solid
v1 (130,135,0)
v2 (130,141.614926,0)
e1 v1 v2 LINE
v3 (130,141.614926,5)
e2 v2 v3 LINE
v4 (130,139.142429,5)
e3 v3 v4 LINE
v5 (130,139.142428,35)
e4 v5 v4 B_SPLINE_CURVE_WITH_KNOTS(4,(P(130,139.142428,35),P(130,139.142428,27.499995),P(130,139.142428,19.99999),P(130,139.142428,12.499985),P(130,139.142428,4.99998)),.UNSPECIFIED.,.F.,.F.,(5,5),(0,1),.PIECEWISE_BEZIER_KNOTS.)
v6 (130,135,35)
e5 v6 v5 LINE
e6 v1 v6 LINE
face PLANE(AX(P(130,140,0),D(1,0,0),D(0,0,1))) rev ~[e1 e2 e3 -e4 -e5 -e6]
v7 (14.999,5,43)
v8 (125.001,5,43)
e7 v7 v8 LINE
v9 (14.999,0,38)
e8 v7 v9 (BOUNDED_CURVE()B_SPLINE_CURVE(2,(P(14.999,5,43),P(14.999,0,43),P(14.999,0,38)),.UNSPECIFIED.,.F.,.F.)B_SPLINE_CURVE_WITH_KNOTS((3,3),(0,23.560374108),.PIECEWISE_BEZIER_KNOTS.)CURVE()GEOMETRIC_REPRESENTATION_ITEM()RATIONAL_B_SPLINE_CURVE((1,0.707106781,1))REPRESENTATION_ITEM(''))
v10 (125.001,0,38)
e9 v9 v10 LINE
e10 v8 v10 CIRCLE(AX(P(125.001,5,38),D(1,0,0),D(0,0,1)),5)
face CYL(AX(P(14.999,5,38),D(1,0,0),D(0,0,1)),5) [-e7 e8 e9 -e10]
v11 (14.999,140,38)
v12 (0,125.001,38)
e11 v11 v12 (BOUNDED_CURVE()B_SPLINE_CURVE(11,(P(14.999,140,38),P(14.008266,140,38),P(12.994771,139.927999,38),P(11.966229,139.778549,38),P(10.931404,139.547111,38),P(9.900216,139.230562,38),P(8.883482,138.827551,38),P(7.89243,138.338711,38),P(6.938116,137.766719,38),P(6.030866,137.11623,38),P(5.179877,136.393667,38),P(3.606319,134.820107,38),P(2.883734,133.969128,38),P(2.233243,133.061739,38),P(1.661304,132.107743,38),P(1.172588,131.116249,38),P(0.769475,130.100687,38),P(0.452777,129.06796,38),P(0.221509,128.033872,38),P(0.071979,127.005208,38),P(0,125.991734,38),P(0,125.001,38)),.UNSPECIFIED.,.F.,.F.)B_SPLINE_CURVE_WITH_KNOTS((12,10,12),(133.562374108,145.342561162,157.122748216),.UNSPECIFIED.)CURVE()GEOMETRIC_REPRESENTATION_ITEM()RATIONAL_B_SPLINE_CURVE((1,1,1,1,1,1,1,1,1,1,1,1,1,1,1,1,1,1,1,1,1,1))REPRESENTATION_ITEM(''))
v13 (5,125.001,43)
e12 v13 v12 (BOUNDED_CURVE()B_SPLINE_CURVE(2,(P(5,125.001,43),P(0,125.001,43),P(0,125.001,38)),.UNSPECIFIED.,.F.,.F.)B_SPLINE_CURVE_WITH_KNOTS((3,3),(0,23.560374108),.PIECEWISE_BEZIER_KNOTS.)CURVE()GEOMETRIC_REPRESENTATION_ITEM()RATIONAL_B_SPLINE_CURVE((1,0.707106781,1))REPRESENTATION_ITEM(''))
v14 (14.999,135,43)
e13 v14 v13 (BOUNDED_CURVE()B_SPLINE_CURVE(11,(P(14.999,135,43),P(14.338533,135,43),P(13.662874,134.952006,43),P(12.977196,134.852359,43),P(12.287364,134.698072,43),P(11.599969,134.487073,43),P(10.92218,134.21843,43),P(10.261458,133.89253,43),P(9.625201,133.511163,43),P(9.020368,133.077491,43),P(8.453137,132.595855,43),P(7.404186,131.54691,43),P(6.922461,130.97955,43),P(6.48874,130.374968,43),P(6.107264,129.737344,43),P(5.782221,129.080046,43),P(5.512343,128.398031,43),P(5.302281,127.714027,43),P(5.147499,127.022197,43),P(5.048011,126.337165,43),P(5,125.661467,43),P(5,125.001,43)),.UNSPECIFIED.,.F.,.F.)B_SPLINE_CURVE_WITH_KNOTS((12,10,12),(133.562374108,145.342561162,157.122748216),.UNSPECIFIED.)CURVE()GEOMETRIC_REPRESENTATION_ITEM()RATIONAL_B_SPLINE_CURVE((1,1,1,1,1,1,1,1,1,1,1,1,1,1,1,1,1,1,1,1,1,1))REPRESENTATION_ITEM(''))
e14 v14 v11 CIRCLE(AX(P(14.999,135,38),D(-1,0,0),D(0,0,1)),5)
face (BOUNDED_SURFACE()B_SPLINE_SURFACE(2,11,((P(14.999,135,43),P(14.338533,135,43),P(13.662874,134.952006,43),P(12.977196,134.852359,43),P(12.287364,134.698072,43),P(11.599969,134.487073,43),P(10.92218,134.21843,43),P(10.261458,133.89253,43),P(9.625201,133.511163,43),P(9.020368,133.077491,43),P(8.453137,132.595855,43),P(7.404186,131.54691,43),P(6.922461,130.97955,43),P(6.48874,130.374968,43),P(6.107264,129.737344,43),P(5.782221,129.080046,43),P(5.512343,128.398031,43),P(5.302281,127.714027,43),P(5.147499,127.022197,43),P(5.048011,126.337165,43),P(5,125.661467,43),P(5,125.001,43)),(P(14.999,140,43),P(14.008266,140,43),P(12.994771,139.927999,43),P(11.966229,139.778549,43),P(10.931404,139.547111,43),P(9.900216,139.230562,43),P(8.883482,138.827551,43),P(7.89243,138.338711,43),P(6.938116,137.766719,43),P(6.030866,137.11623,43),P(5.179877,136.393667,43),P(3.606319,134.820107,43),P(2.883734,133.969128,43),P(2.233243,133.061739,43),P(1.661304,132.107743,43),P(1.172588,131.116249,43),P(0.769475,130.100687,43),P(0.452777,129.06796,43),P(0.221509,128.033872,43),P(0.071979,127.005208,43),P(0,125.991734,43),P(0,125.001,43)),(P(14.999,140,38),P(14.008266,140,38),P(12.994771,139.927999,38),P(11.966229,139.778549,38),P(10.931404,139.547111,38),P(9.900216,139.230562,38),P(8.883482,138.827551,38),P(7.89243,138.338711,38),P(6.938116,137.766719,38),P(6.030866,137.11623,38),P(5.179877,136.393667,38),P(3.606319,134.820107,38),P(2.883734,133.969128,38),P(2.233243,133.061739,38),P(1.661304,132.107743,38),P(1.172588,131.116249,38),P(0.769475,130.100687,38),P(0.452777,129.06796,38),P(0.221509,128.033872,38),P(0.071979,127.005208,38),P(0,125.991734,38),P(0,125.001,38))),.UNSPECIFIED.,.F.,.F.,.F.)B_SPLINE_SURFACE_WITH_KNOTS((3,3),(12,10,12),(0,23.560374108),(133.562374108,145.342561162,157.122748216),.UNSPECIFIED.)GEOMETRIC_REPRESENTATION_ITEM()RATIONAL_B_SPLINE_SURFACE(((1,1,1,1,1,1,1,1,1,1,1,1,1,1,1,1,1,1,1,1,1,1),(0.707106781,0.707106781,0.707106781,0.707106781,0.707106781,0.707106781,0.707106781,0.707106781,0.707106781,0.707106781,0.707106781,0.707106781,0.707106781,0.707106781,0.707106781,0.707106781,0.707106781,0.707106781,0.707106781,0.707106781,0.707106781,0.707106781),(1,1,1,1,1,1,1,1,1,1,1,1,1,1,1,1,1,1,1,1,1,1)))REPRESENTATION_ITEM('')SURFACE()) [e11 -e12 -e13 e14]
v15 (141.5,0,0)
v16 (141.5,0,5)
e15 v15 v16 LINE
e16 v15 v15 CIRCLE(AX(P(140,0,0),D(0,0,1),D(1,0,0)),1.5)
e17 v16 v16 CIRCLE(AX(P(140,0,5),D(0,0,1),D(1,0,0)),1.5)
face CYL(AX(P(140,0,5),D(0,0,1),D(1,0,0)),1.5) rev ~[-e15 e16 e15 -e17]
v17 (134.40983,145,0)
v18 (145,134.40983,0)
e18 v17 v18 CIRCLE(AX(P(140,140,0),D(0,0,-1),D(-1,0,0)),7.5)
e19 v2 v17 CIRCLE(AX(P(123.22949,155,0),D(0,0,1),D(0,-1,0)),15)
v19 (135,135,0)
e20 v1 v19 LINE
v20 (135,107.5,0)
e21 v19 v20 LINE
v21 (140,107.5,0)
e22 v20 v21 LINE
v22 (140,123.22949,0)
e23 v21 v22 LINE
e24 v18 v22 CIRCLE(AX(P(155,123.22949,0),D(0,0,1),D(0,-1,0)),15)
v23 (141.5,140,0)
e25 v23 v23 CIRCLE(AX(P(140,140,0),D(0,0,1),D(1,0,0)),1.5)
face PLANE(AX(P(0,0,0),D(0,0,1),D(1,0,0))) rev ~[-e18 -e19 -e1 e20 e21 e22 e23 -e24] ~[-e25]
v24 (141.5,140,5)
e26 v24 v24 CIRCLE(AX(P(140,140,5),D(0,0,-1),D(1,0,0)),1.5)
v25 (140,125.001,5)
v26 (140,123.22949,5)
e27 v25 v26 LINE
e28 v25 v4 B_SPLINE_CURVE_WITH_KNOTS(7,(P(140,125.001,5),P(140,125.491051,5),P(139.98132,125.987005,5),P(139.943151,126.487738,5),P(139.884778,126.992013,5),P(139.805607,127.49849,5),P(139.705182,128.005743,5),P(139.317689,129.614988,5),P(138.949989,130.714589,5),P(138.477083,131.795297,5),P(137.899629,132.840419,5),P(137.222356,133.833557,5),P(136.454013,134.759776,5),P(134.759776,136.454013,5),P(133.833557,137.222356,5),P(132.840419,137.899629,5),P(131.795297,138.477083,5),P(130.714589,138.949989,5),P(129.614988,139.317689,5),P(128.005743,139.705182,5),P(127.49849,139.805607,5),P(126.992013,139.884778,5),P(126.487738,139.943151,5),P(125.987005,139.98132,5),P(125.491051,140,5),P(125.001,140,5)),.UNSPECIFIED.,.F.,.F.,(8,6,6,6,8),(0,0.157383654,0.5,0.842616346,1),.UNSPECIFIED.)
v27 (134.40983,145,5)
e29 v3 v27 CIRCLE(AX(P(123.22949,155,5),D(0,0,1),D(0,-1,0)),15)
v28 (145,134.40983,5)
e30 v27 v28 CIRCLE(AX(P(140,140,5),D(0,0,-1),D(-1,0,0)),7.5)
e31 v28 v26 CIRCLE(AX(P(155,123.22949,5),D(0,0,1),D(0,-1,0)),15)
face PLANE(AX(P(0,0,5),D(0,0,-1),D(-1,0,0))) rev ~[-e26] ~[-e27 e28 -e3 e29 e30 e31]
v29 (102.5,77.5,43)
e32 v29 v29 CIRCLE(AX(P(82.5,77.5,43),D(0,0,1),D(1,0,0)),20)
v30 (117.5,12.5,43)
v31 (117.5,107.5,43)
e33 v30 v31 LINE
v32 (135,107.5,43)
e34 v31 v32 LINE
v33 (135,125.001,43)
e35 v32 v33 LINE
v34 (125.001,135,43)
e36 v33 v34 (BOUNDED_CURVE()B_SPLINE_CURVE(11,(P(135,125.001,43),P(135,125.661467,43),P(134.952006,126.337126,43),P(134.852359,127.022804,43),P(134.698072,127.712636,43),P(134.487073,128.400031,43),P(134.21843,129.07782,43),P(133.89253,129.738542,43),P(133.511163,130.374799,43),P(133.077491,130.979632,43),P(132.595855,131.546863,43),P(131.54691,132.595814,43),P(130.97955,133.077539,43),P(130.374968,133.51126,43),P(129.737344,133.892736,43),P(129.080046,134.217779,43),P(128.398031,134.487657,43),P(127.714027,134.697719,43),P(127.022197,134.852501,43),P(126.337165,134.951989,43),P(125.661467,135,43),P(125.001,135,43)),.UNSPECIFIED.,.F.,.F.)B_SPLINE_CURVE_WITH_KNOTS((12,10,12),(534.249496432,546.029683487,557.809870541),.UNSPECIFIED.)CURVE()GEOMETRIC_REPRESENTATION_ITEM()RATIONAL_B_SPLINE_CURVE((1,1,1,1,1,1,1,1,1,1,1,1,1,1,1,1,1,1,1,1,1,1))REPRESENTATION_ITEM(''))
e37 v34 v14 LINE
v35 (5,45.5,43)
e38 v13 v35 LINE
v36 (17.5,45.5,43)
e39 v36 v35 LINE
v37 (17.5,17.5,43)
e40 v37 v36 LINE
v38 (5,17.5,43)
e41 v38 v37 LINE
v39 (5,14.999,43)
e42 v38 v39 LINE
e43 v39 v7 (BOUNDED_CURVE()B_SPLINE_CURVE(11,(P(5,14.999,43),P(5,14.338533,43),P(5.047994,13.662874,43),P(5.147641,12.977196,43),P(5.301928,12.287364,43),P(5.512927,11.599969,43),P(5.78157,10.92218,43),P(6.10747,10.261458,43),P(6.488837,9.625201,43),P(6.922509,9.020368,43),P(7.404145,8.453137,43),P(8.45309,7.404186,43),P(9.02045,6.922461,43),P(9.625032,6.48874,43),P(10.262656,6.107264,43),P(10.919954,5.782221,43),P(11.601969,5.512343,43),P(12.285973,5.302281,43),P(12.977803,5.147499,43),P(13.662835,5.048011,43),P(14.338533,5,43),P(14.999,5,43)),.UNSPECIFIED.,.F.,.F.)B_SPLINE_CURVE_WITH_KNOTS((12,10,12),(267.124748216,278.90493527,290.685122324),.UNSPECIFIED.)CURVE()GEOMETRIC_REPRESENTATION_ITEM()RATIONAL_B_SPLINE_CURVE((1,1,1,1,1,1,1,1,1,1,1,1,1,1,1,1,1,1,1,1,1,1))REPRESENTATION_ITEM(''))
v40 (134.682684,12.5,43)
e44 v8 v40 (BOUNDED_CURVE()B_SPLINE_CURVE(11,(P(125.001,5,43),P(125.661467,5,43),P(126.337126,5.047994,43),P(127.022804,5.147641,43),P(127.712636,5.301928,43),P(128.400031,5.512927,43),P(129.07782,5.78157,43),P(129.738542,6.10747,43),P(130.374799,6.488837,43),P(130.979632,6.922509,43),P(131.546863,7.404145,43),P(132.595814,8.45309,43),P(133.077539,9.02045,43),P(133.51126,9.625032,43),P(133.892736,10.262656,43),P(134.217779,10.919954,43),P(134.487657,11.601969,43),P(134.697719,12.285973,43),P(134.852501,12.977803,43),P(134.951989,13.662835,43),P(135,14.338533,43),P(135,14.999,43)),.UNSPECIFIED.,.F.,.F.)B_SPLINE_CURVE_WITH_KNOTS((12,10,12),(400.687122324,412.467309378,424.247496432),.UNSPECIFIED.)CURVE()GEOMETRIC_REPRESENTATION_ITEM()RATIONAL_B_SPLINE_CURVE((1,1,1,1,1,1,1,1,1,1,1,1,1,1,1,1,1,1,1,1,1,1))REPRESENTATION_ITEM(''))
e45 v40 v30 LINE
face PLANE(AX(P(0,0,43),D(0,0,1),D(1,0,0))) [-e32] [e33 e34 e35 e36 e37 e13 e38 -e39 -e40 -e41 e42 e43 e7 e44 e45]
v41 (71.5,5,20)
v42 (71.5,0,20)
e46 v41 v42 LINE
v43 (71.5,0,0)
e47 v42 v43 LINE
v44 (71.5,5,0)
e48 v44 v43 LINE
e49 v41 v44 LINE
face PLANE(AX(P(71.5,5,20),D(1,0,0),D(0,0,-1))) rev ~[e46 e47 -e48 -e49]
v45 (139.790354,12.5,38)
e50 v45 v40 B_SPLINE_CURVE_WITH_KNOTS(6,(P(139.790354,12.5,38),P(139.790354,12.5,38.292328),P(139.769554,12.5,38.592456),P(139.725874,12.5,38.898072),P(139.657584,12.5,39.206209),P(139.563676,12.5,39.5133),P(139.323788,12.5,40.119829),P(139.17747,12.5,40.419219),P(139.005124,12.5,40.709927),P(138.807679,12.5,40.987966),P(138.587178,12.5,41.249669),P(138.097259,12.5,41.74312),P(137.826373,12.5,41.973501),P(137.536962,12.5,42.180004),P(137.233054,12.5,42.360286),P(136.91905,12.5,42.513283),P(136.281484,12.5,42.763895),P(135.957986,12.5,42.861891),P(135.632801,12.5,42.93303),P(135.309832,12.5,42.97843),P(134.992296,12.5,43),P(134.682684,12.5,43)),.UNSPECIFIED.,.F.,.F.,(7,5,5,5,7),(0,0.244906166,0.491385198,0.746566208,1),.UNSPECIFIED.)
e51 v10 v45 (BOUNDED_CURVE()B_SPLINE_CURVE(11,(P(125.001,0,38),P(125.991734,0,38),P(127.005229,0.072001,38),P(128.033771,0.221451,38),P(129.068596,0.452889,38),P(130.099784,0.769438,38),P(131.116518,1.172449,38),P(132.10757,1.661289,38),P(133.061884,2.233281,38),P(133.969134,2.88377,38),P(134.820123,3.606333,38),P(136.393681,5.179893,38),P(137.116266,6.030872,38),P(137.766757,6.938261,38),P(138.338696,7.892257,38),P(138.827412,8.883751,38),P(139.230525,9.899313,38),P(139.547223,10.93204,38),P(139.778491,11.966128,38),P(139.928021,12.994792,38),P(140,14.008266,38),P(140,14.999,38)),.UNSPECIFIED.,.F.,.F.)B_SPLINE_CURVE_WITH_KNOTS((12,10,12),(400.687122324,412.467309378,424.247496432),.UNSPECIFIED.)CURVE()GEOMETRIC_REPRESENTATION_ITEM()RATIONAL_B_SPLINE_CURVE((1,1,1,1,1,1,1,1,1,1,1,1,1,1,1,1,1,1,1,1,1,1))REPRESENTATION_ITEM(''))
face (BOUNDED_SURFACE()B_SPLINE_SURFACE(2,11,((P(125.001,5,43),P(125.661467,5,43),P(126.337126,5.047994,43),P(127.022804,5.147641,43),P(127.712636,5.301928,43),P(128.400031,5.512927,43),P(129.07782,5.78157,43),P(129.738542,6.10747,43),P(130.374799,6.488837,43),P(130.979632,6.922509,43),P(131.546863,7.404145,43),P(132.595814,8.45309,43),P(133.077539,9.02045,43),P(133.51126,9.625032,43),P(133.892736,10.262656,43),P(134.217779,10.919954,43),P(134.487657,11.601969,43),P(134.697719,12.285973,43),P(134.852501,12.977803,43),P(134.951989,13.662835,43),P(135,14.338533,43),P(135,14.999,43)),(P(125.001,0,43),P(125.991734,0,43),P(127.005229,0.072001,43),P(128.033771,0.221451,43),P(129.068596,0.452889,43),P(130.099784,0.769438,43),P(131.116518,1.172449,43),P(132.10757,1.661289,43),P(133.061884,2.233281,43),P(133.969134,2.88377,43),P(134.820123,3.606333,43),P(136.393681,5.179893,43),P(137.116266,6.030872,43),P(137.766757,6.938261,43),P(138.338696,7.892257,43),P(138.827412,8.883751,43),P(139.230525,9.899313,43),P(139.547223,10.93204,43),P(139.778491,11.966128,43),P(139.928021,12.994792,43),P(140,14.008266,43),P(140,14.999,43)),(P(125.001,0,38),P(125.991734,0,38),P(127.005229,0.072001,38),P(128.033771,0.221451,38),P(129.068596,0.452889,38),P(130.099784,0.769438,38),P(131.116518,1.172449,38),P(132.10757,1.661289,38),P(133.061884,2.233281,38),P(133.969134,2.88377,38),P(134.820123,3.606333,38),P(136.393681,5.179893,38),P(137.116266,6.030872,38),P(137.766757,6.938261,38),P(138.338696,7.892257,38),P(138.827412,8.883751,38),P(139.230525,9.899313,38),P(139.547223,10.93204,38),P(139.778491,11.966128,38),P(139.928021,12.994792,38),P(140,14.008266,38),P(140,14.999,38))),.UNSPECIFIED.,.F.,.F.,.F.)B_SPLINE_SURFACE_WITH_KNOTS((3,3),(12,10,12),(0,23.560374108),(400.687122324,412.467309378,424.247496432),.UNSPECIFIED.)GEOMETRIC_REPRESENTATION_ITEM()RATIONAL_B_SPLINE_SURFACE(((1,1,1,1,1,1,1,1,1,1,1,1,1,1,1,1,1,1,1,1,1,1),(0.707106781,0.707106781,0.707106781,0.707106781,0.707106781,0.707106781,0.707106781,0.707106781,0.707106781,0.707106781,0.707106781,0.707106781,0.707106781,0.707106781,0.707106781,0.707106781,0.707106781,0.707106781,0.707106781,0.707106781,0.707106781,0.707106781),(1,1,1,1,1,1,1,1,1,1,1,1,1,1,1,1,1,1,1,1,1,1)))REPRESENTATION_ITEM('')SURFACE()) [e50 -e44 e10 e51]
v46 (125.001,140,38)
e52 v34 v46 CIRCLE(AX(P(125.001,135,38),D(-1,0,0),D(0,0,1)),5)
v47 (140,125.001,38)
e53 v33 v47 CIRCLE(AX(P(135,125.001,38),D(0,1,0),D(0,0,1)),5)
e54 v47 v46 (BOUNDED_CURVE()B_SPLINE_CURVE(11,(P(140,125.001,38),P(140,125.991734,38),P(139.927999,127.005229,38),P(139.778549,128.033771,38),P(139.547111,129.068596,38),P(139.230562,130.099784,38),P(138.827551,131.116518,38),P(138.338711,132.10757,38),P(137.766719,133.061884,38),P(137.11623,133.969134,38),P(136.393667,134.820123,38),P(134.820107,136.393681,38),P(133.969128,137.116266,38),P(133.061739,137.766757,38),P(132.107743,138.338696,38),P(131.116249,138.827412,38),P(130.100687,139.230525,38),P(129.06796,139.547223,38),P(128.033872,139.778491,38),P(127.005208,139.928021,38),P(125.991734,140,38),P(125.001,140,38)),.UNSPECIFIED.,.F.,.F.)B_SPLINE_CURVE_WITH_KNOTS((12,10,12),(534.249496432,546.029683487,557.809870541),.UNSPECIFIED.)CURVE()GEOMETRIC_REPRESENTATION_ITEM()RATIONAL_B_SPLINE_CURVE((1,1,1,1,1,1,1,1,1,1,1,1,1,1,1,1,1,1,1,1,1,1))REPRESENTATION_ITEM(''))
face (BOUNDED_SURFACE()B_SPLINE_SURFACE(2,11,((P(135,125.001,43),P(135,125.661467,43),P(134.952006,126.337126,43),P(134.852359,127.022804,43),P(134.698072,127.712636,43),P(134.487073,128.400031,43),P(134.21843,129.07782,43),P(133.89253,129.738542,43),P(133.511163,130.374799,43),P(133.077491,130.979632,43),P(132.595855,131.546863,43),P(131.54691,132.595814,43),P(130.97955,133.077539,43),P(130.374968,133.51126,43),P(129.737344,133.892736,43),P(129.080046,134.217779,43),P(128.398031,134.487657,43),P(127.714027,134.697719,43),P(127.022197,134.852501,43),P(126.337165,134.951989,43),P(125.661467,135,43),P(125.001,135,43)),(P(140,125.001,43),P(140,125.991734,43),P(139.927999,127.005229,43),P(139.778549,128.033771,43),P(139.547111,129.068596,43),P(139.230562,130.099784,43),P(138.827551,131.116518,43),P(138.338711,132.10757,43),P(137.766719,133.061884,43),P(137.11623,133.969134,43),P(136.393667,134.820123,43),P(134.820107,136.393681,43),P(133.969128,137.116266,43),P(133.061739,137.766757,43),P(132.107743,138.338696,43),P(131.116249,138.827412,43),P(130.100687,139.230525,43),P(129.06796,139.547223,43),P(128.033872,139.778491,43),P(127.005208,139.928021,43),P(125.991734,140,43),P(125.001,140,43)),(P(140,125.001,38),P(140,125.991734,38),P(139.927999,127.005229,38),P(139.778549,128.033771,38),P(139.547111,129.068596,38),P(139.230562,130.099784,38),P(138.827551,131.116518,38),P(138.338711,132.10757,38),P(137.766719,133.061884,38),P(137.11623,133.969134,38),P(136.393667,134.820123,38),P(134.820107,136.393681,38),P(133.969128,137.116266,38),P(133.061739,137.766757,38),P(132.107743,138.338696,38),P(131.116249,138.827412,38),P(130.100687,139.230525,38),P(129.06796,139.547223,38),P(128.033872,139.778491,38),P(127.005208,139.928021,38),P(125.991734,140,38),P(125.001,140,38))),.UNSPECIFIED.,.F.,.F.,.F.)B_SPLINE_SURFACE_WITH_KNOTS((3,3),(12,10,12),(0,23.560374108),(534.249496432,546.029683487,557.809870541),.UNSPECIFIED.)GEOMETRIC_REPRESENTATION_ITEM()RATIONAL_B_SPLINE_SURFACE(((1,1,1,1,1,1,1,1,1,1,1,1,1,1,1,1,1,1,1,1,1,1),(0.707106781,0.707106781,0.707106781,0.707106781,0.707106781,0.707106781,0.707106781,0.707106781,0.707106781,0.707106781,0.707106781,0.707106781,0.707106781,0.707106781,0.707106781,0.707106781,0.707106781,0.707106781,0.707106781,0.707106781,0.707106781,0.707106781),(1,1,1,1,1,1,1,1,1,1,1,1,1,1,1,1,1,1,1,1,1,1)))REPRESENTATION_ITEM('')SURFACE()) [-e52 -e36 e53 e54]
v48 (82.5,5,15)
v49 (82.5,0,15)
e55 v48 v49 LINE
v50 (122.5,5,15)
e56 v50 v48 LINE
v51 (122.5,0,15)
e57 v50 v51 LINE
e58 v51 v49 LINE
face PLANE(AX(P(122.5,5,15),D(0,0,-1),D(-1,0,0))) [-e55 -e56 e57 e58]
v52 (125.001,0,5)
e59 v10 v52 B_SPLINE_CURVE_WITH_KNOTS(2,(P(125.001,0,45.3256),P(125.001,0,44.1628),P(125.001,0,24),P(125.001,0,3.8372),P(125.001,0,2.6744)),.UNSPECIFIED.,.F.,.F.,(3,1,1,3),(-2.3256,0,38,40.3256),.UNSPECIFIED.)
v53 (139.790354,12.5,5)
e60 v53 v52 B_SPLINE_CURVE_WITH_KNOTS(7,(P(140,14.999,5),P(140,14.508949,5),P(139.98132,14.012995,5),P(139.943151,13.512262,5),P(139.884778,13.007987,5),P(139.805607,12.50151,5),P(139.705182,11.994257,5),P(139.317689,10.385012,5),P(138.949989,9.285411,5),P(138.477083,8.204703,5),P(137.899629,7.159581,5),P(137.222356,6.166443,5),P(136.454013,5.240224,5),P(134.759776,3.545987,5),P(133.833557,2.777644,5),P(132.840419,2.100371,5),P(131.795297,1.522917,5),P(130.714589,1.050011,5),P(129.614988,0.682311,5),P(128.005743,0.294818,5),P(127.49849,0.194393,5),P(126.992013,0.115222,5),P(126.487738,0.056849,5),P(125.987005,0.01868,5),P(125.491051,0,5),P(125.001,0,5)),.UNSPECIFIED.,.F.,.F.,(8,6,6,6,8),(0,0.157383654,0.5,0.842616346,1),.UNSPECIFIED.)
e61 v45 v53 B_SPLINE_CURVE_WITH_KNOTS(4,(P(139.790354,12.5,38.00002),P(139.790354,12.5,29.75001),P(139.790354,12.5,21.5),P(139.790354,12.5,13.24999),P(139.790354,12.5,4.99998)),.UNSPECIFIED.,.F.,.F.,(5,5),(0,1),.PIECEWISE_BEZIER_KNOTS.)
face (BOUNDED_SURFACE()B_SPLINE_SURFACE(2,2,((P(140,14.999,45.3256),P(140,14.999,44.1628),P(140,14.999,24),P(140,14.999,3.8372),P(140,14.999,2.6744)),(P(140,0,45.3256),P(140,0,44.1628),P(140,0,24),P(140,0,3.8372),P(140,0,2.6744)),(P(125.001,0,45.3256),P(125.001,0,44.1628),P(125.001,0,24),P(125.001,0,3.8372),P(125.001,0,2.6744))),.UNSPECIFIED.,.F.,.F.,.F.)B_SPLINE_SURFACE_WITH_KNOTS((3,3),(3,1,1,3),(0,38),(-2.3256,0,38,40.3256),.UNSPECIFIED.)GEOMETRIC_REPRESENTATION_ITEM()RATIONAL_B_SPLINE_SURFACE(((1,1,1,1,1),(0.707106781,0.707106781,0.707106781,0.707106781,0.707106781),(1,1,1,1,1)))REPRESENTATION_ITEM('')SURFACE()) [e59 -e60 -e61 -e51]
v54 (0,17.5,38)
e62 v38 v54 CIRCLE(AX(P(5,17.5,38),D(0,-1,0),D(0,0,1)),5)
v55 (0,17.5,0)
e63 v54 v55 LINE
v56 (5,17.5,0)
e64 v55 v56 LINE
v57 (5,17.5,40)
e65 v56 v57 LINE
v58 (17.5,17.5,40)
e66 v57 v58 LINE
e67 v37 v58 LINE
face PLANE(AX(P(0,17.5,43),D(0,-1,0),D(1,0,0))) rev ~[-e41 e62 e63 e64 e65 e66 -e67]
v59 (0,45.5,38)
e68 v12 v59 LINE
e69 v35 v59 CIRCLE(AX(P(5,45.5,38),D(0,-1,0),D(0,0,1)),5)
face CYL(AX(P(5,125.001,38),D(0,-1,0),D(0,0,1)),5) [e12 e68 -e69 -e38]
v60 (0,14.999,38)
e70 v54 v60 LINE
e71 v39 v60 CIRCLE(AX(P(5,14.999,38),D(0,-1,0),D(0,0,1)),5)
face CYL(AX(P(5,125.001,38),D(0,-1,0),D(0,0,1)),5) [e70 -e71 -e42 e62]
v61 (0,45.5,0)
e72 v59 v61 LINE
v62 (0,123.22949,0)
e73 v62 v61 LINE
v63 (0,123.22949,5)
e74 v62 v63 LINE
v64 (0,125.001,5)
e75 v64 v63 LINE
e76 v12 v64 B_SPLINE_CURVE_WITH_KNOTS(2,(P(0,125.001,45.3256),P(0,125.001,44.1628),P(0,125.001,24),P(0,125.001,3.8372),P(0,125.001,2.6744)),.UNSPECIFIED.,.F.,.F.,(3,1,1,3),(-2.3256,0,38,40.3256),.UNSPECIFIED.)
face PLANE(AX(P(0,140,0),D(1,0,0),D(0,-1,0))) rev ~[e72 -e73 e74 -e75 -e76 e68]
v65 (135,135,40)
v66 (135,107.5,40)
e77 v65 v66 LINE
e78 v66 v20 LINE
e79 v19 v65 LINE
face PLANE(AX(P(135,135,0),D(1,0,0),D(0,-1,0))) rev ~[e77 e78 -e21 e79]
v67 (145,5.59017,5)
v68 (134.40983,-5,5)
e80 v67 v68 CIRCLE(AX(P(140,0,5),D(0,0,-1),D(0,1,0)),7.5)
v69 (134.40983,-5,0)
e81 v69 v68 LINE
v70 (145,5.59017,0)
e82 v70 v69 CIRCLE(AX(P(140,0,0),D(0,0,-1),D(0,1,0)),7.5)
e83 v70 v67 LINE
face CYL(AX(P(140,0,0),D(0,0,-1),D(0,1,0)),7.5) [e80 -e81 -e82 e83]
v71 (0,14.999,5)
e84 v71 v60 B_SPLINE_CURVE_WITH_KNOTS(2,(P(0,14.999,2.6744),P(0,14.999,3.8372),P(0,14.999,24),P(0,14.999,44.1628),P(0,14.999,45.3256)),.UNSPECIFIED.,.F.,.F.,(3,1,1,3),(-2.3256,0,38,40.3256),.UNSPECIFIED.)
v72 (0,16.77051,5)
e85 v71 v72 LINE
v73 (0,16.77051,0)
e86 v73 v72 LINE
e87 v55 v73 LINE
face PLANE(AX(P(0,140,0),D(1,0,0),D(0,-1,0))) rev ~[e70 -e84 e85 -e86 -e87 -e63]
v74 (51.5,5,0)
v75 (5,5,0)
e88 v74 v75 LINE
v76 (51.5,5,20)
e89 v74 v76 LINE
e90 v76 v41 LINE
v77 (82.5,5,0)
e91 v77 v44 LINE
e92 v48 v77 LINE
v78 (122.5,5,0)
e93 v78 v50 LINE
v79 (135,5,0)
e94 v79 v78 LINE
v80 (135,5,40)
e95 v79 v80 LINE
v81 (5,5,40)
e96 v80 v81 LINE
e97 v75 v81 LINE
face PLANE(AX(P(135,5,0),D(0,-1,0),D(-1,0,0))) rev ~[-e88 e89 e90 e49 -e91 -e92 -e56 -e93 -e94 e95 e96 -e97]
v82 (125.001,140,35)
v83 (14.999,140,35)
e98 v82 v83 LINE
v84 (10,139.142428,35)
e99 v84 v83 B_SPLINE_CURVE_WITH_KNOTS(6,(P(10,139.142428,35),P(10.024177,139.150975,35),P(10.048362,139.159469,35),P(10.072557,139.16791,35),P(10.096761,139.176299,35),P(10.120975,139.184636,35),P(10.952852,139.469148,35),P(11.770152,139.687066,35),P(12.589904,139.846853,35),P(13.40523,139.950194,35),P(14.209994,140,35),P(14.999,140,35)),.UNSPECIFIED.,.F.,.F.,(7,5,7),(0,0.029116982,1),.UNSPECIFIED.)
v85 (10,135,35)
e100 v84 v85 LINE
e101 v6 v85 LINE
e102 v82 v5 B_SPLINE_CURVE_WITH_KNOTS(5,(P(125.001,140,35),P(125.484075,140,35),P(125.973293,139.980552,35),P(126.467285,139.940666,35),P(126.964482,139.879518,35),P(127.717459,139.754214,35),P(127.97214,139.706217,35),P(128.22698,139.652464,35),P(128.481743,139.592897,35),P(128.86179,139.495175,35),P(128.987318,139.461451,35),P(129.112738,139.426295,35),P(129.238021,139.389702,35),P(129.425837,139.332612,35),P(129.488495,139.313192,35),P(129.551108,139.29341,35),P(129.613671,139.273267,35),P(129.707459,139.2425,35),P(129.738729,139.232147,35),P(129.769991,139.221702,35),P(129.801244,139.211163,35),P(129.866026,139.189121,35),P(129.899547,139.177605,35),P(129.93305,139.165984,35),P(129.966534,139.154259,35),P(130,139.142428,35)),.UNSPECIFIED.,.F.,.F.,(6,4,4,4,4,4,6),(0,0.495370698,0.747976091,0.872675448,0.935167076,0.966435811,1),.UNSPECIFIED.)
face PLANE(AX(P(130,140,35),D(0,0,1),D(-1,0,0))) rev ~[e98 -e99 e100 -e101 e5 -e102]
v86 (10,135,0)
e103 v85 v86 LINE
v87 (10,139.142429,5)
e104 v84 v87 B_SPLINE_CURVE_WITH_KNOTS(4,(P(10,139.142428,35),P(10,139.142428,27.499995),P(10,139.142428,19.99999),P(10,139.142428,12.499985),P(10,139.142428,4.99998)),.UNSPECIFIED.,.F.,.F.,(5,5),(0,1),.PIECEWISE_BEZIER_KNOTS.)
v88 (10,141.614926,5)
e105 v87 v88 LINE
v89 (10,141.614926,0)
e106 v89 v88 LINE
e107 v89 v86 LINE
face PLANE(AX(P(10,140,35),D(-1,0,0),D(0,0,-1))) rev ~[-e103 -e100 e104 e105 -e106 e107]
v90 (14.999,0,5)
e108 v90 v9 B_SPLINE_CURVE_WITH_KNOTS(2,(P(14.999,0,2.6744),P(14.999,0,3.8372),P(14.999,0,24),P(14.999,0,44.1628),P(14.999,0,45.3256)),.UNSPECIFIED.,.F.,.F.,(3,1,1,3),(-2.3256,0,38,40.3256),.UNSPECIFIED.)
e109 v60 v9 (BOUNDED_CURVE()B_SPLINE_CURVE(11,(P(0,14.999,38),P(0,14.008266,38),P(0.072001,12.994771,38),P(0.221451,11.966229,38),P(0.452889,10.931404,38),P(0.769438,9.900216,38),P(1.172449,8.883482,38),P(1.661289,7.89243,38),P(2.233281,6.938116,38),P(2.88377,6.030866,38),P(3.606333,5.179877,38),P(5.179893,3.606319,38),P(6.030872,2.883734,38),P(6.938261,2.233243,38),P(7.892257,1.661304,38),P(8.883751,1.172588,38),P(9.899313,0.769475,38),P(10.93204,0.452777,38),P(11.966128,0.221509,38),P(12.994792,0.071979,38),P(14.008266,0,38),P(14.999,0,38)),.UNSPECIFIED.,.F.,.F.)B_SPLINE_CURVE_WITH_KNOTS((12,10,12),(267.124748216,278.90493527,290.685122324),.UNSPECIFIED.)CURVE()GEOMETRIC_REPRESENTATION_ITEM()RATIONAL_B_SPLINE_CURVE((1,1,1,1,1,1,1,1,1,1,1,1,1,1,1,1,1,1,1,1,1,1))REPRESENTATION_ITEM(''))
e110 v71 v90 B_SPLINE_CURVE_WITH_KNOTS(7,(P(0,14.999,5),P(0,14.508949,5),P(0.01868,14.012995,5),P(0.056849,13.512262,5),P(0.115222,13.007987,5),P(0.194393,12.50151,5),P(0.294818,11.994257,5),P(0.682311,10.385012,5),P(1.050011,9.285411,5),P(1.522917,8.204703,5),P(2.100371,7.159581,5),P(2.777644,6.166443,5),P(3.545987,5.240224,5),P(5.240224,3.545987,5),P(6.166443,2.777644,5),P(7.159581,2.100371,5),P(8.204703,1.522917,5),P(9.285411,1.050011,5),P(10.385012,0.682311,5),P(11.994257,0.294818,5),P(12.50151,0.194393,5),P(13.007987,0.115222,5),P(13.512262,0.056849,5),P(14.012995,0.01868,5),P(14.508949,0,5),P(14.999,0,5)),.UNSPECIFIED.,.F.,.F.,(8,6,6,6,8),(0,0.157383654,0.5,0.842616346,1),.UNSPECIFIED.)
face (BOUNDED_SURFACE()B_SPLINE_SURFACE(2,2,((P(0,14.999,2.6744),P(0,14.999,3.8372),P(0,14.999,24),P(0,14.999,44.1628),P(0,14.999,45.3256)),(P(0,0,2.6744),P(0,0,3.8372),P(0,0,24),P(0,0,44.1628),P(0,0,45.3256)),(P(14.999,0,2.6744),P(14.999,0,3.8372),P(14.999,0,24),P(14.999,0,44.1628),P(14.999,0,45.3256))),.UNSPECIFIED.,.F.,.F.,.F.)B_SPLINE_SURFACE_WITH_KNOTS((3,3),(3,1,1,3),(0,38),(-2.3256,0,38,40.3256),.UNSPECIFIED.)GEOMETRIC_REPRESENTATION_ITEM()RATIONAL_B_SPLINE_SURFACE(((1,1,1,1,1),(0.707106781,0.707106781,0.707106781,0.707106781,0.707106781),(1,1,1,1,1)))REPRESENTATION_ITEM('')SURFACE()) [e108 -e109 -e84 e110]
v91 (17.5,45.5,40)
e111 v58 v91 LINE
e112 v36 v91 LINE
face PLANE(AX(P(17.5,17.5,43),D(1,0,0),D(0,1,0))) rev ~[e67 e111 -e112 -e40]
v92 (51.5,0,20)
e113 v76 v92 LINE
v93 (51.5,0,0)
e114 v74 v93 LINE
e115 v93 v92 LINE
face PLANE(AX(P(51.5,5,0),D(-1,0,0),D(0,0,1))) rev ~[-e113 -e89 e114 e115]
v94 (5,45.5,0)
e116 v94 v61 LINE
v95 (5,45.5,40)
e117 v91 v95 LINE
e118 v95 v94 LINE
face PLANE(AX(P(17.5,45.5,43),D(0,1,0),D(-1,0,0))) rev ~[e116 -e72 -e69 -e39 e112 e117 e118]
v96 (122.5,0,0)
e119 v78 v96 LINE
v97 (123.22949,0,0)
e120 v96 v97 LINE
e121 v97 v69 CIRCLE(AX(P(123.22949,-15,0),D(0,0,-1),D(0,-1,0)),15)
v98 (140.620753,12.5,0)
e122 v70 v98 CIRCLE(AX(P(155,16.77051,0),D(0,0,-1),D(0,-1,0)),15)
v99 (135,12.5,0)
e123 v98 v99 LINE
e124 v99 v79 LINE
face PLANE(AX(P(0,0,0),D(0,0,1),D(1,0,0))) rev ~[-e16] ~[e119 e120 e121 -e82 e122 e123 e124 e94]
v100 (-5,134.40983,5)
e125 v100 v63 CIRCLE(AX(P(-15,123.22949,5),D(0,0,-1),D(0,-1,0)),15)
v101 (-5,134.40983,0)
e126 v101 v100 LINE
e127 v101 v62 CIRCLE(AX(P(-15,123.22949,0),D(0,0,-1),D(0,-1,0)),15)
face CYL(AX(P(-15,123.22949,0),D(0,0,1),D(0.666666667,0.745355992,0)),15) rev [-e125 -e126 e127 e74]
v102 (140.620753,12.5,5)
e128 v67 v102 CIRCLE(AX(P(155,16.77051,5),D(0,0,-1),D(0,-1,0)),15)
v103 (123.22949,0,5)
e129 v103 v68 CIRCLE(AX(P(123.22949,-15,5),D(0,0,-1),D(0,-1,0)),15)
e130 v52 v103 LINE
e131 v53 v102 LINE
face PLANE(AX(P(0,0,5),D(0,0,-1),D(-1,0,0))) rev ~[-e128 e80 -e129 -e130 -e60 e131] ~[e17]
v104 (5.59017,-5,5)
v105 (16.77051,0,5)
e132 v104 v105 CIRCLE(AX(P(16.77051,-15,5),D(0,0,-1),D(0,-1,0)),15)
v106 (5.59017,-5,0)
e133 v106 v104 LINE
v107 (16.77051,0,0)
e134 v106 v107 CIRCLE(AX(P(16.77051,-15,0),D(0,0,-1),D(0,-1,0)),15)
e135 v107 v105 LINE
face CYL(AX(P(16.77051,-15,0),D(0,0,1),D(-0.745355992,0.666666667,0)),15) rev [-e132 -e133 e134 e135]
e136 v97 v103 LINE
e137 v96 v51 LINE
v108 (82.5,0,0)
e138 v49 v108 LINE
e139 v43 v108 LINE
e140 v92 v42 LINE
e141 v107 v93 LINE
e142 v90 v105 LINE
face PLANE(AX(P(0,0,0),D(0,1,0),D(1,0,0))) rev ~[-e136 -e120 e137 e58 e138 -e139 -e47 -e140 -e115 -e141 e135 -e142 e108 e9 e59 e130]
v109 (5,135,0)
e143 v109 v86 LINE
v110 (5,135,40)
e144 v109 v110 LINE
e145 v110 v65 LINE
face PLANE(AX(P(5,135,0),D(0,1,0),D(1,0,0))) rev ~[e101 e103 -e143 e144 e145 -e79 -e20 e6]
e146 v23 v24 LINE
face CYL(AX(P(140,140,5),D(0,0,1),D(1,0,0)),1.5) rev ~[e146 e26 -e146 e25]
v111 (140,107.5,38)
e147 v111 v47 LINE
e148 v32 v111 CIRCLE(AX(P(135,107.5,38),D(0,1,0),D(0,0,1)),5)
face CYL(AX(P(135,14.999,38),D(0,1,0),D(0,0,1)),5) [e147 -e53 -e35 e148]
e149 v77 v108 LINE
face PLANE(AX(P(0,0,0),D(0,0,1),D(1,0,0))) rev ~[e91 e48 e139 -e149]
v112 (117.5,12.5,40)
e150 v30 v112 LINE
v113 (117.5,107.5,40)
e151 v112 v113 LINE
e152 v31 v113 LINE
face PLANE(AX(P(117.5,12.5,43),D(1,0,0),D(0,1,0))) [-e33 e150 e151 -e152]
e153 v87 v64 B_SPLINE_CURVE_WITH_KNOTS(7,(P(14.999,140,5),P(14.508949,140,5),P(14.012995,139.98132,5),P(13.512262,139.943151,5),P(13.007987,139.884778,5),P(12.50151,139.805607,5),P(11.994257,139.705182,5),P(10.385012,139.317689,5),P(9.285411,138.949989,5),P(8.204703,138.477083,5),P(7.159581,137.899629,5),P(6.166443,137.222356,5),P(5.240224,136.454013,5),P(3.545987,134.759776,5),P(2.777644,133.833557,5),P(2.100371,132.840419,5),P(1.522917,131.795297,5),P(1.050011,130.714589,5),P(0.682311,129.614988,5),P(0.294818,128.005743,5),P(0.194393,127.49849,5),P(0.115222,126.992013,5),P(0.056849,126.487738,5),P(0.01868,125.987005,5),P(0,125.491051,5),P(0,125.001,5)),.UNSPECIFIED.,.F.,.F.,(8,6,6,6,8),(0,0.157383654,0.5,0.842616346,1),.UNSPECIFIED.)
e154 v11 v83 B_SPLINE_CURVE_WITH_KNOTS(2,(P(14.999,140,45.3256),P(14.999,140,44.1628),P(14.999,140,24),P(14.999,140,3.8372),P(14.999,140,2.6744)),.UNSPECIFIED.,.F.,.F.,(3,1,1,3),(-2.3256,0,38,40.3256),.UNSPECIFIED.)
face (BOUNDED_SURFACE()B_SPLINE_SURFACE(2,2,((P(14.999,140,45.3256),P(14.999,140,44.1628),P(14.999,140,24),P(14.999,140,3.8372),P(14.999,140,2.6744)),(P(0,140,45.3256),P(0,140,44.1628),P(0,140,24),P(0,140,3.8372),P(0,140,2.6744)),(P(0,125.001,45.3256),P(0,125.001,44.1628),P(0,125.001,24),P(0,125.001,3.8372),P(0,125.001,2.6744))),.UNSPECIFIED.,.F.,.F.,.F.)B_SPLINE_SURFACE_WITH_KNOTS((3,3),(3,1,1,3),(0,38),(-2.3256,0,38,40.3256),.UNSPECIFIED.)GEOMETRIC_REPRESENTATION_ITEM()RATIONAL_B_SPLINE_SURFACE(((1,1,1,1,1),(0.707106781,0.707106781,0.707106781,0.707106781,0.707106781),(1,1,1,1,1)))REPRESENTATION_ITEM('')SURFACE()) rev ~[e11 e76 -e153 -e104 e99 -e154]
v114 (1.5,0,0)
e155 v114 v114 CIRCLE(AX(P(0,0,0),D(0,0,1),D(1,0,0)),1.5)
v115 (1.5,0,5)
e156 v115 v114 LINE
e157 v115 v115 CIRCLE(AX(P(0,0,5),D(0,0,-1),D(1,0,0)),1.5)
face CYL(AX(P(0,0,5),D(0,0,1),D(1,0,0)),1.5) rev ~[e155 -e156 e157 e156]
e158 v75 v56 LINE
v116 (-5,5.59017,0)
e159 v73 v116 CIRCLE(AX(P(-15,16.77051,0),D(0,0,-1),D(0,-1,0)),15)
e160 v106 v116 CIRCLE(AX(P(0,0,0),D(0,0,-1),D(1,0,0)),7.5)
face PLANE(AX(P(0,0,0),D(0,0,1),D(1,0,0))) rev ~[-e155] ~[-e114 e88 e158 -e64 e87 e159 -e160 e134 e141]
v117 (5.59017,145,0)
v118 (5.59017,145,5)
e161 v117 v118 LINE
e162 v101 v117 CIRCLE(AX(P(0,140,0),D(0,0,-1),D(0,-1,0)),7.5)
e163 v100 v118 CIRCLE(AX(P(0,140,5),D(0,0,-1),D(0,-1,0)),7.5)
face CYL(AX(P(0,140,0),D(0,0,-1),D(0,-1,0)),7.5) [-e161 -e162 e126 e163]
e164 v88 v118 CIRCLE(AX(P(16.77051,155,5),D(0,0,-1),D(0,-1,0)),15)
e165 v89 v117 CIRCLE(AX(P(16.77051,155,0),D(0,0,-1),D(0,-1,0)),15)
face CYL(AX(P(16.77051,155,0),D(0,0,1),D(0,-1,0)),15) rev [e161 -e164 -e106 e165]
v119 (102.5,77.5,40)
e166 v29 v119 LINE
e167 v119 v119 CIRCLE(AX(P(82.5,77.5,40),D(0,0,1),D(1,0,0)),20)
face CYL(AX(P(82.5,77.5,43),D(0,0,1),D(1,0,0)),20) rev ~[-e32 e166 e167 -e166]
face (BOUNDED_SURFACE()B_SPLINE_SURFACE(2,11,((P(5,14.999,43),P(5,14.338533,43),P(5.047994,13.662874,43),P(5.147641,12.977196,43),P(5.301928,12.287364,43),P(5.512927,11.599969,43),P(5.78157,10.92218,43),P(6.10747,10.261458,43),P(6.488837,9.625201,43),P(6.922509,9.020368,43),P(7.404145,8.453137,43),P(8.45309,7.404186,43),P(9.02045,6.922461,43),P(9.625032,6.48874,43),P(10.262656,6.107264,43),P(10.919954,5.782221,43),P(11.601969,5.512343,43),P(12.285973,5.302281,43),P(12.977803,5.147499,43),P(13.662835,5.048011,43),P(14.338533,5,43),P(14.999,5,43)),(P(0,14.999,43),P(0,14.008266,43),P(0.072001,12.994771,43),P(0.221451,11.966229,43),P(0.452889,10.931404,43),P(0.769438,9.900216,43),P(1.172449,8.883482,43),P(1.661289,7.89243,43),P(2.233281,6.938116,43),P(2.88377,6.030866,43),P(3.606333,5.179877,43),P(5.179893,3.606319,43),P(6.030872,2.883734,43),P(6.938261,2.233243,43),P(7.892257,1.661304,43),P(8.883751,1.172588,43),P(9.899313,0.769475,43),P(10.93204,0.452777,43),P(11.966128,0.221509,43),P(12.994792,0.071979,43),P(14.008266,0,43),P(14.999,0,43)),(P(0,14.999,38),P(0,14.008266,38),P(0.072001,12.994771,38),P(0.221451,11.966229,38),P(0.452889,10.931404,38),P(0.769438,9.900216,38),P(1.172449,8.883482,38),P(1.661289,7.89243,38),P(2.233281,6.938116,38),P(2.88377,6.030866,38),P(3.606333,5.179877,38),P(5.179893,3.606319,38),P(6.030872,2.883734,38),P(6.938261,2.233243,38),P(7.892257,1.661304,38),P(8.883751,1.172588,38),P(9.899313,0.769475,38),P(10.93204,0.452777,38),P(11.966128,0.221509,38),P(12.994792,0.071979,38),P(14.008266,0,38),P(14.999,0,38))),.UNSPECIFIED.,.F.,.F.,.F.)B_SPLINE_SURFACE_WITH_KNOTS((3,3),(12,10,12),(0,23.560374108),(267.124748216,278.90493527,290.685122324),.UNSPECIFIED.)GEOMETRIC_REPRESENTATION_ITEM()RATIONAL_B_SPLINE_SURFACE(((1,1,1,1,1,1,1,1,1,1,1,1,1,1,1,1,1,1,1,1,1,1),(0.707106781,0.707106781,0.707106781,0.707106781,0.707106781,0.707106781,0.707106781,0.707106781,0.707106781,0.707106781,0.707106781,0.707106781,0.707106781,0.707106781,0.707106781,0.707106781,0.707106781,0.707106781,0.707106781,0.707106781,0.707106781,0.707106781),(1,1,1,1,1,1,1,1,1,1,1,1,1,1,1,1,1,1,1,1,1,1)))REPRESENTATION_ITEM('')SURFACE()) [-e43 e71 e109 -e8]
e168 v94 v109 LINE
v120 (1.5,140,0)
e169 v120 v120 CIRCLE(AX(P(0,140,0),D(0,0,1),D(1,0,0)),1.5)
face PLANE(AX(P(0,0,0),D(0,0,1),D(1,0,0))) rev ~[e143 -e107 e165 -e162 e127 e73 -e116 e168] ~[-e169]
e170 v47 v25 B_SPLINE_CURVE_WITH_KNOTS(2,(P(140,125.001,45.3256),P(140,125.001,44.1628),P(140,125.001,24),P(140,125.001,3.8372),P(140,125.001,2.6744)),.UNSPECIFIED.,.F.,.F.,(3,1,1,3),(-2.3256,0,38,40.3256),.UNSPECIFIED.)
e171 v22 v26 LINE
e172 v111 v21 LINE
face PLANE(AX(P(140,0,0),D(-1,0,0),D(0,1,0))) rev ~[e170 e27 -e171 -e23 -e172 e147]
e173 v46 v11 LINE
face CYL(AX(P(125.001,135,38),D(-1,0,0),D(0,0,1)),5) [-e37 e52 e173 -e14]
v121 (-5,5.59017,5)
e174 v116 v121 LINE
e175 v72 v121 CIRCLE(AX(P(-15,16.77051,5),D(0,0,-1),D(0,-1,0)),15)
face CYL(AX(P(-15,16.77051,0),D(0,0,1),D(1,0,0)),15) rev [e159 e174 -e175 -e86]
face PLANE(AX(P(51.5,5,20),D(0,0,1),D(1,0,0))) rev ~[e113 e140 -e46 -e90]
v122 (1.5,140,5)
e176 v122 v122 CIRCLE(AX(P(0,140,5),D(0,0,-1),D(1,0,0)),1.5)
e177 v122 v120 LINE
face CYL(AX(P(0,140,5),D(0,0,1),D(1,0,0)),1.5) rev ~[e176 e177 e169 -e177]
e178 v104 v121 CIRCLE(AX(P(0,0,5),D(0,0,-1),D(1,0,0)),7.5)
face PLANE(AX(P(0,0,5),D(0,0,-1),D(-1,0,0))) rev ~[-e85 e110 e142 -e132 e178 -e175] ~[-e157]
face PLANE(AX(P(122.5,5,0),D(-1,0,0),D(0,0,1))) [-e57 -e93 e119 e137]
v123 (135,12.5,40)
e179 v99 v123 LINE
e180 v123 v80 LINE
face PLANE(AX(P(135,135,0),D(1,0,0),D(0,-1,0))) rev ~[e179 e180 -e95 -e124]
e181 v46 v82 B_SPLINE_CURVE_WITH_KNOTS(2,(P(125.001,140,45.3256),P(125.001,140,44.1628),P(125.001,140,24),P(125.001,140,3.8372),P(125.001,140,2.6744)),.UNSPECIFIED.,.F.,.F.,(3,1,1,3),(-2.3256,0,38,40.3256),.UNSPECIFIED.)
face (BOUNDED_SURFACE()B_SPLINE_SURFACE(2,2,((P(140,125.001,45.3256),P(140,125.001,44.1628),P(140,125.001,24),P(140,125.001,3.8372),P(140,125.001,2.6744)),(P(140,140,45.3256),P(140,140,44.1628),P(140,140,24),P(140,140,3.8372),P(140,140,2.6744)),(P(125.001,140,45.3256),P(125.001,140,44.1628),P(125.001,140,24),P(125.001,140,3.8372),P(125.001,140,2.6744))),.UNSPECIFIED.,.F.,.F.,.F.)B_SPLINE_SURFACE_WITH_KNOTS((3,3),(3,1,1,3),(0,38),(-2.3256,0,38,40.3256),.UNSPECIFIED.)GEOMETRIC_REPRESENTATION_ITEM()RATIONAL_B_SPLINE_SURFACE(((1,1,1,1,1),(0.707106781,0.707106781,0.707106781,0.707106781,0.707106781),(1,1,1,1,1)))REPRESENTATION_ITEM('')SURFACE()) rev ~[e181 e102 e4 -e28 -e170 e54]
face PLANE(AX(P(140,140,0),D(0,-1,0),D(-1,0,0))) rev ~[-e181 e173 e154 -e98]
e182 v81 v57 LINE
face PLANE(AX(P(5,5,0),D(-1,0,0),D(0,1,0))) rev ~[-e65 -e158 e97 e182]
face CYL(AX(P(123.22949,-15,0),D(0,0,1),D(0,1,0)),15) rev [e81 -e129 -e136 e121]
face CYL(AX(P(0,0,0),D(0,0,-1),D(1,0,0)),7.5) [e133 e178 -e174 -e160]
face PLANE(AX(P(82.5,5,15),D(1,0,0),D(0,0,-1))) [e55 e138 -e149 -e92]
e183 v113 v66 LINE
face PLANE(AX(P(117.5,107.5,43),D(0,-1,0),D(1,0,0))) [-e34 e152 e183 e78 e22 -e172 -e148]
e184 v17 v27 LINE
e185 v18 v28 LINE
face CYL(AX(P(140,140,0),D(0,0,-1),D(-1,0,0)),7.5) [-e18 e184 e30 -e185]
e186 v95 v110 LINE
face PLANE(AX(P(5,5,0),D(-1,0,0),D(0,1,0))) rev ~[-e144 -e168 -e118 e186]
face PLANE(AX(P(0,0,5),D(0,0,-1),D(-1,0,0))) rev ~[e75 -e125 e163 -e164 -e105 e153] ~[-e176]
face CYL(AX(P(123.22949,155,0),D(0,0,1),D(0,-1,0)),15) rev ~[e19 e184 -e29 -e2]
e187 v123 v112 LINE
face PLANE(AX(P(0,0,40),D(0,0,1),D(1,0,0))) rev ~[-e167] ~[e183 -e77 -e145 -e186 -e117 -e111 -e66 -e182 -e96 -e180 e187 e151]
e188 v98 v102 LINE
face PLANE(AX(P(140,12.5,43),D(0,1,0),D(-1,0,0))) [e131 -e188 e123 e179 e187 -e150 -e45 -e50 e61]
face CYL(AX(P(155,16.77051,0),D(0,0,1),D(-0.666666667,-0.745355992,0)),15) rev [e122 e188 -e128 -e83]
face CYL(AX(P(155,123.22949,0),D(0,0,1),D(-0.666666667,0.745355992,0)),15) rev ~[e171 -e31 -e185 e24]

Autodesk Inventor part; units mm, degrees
ref_plane "YZ Plane" through (0, 0, 0) normal (1, 0, 0) x (0, 1, 0)
ref_plane "XZ Plane" through (0, 0, 0) normal (0, 1, 0) x (-1, 0, 0)
ref_plane "XY Plane" through (0, 0, 0) normal (0, 0, 1) x (1, 0, 0)
sketch "Sketch1" plane through (0, 0, 0) normal (0, 0, 1) x (1, 0, 0)
  line L0 (0, 0) -> (140, 0)
  line L1 (140, 0) -> (140, 140)
  line L2 (140, 140) -> (0, 140)
  line L3 (0, 140) -> (0, 0)
  line L4 (5, 135) -> (135, 135)
  line L5 (135, 135) -> (135, 5)
  line L6 (135, 5) -> (5, 5)
  line L7 (5, 5) -> (5, 135)
  point P0 (70, 135)
  point P1 (70, 140)
  point P2 (135, 70)
  point P3 (140, 70)
  dimension "d0" = 140
  dimension "d1" = 140
  dimension "d2" = 130
  dimension "d3" = 130
extrude "Extrusion1" add sketch "Sketch1" along normal blind 40
sketch "Sketch2" plane through (0, 0, 40) normal (0, 0, 1) x (1, 0, 0)
  line L0 (135, 5) -> (5, 5) projected
  line L1 (135, 135) -> (135, 5) projected
  line L2 (135, 5) -> (5, 5) projected
  line L3 (5, 5) -> (5, 135) projected
  line L4 (5, 135) -> (135, 135) projected
  line L5 (0, 0) -> (140, 0) projected
  line L6 (140, 0) -> (140, 140) projected
  line L7 (140, 140) -> (0, 140) projected
  line L8 (0, 140) -> (0, 0) projected
extrude "Extrusion2" add sketch "Sketch2" along normal blind 3 contours L0 L3 L4 L1 | L8 L7 L6 L5
sketch "Sketch3" plane through (0, 0, 0) normal (0, 0, -1) x (-1, 0, 0)
  line L0 (0, 0) -> (-140, 0) construction
  circle A0 centre (0, 0) radius 7.5 construction
  line L1 (0, 140) -> (0, 0) construction
  arc A1 (-7.5, 0) -> (0, 7.5) centre (0, 0) ccw
  line L2 (0, 7.5) -> (0, 0)
  line L3 (0, 0) -> (-7.5, 0)
  line L4 (-140, 140) -> (0, 140) construction
  line L5 (-140, 0) -> (-140, 140) construction
  line L6 (-70, 140) -> (-70, 0)
  line L7 (-140, 70) -> (0, 70)
  circle A2 centre (0, 140) radius 7.5 construction
  arc A3 (0, 132.5) -> (-7.5, 140) centre (0, 140) ccw
  line L8 (-7.5, 140) -> (0, 140)
  line L9 (0, 140) -> (0, 132.5)
  circle A4 centre (-140, 140) radius 7.5 construction
  arc A5 (-132.5, 140) -> (-140, 132.5) centre (-140, 140) ccw
  line L10 (-140, 132.5) -> (-140, 140)
  line L11 (-140, 140) -> (-132.5, 140)
  circle A6 centre (-140, 0) radius 7.5 construction
  arc A7 (-140, 7.5) -> (-132.5, 0) centre (-140, 0) ccw
  line L12 (-132.5, 0) -> (-140, 0)
  line L13 (-140, 0) -> (-140, 7.5)
  point P0 (-70, 70)
  dimension "d8" = 15
  dimension "d11" = 360
extrude "Extrusion3" add sketch "Sketch3" against normal blind 5
sketch "Sketch4" plane through (0, 0, 5) normal (0, 0, 1) x (1, 0, 0)
  line L0 (0, 0) -> (140, 0) projected
  circle A0 centre (0, 0) radius 1.5
  line L1 (140, 140) -> (0, 140) projected
  circle A1 centre (0, 140) radius 1.5
  circle A2 centre (140, 140) radius 1.5
  line L2 (140, 0) -> (140, 7.5) projected
  circle A3 centre (140, 0) radius 1.5
  dimension "d15" = 3
  dimension "d16" = 3
  dimension "d17" = 3
  dimension "d18" = 3
extrude "Extrusion4" cut sketch "Sketch4" along normal through all both and the other way through all
sketch "Sketch5" plane through (0, 0, 5) normal (0, 0, 1) x (1, 0, 0)
  arc A0 (0, 1.5) -> (1.5, 0) centre (0, 0) ccw projected
  circle A1 centre (0, 0) radius 3.5
  circle A2 centre (140, 0) radius 3.5
  circle A3 centre (140, 140) radius 3.5
  circle A4 centre (0, 140) radius 3.5
  arc A5 (140, 138.5) -> (138.5, 140) centre (140, 140) ccw projected
  arc A6 (1.5, 140) -> (0, 138.5) centre (0, 140) ccw projected
  arc A7 (138.5, 0) -> (140, 1.5) centre (140, 0) ccw projected
  dimension "d21" = 7
  dimension "d22" = 7
  dimension "d23" = 7
  dimension "d24" = 7
extrude "Extrusion5" cut sketch "Sketch5" along normal through all
fillet "Fillet1" radius 15 8 edges at (7.5, 140, 2.5) (132.5, 140, 2.5) (0, 7.5, 2.5) (0, 132.5, 2.5) (7.5, 0, 2.5) (132.5, 0, 2.5) (140, 132.5, 2.5) (140, 7.5, 2.5)
fillet "Fillet3" radius 15 8 edges at (140, 136.5, 24) (136.5, 140, 24) (3.5, 140, 24) (0, 136.5, 24) (0, 3.5, 24) (3.5, 0, 24) (140, 3.5, 24) (136.5, 0, 24)
fillet "Fillet4" radius 5 8 edges at (135.6069, 135.6069, 43) (70, 140, 43) (4.3931, 135.6069, 43) (0, 70, 43) (4.3931, 4.3931, 43) (70, 0, 43) (135.6069, 4.3931, 43) (140, 70, 43)
sketch "Sketch6" plane through (16.7705, 140, 0) normal (0, 1, 0) x (1, 0, 0)
  line L0 (113.2295, -35) -> (-6.7705, -35)
  line L1 (-6.7705, -35) -> (-6.7705, 0)
  line L2 (-6.7705, 0) -> (113.2295, 0)
  line L3 (113.2295, 0) -> (113.2295, -35)
  line L4 (106.459, 0) -> (0, 0) projected
  point P0 (-16.7705, 0)
  point P1 (53.2295, 0)
  dimension "d31" = 120
  dimension "d32" = 35
extrude "Extrusion6" cut sketch "Sketch6" along normal mid plane 10
sketch "Sketch7" plane through (5, 5, 0) normal (0, 1, 0) x (1, 0, 0)
  line L0 (127.5, 10) -> (2.5, 10) construction
  line L1 (0, 0) -> (130, 0) projected
  line L2 (11.7705, 0) -> (118.2295, 0) projected
  line L3 (66.5, 0) -> (46.5, 0)
  line L4 (46.5, 0) -> (46.5, -20)
  line L5 (46.5, -20) -> (66.5, -20)
  line L6 (66.5, -20) -> (66.5, 0)
  line L7 (77.5, 0) -> (117.5, 0)
  line L8 (117.5, 0) -> (117.5, -15)
  line L9 (117.5, -15) -> (77.5, -15)
  line L10 (77.5, -15) -> (77.5, 0)
  point P0 (-5, 0)
  point P1 (65, 10)
  point P2 (65, 0)
  dimension "d35" = 125
  dimension "d36" = 10
  dimension "d37" = 20
  dimension "d38" = 20
  dimension "d39" = 44
  dimension "d40" = 75
  dimension "d41" = 40
  dimension "d42" = 15
extrude "Extrusion7" cut sketch "Sketch7" against normal through all
sketch "Sketch8" plane through (0, 0, 43) normal (0, 0, 1) x (1, 0, 0)
  line L0 (132.5, 132.5) -> (7.5, 132.5) construction
  line L1 (7.5, 132.5) -> (7.5, 7.5) construction
  line L2 (7.5, 7.5) -> (132.5, 7.5) construction
  line L3 (132.5, 7.5) -> (132.5, 132.5) construction
  line L4 (140, 15) -> (140, 125) construction
  line L5 (125, 139.5826) -> (15, 139.5826) construction
  circle A0 centre (82.5, 77.5) radius 20
  line L6 (132.5, 107.5) -> (117.5, 107.5) construction
  line L7 (117.5, 107.5) -> (117.5, 12.5) construction
  line L8 (117.5, 12.5) -> (132.5, 12.5) construction
  line L9 (132.5, 12.5) -> (132.5, 107.5) construction
  line L10 (117.5, 107.5) -> (140, 107.5)
  line L11 (140, 107.5) -> (140, 12.5)
  line L12 (140, 12.5) -> (117.5, 12.5)
  line L13 (117.5, 12.5) -> (117.5, 107.5)
  line L14 (140, 15) -> (140, 16.7705)
  line L15 (7.5, 17.5) -> (17.5, 17.5) construction
  line L16 (17.5, 17.5) -> (17.5, 45.5) construction
  line L17 (17.5, 45.5) -> (7.5, 45.5) construction
  line L18 (7.5, 45.5) -> (7.5, 17.5) construction
  line L19 (17.5, 45.5) -> (0, 45.5)
  line L20 (0, 45.5) -> (0, 17.5)
  line L21 (0, 17.5) -> (17.5, 17.5)
  line L22 (17.5, 17.5) -> (17.5, 45.5)
  line L23 (0, 125) -> (0, 15) construction
  point P0 (0, 0)
  point P1 (132.5, 70)
  point P2 (140, 70)
  point P3 (70, 132.5)
  point P4 (70, 139.5826)
  point P5 (140, 15.8853)
  dimension "d45" = 125
  dimension "d46" = 125
  dimension "d47" = 40
  dimension "d48" = 55
  dimension "d49" = 75
  dimension "d52" = 25
  dimension "d53" = 95
  dimension "d54" = 15
  dimension "d55" = 10
  dimension "d57" = 28
  dimension "d58" = 10
extrude "Extrusion8" cut sketch "Sketch8" against normal through all
sketch "Sketch11" plane through (0, 0, 43) normal (0, 0, 1) x (1, 0, 0)
  line L0 (129.2255, 12.5) -> (148.6094, 12.5)
  line L1 (148.6094, 12.5) -> (148.6094, 26.7948)
  line L2 (148.6094, 26.7948) -> (129.2255, 26.7948)
  line L3 (129.2255, 26.7948) -> (129.2255, 12.5)
  line L4 (134.6825, 12.5) -> (117.5, 12.5) projected
  point P0 (0, 0)
extrude "Extrusion9" cut sketch "Sketch11" against normal through all
properties part number "BP004" material "ABS Plastic"
